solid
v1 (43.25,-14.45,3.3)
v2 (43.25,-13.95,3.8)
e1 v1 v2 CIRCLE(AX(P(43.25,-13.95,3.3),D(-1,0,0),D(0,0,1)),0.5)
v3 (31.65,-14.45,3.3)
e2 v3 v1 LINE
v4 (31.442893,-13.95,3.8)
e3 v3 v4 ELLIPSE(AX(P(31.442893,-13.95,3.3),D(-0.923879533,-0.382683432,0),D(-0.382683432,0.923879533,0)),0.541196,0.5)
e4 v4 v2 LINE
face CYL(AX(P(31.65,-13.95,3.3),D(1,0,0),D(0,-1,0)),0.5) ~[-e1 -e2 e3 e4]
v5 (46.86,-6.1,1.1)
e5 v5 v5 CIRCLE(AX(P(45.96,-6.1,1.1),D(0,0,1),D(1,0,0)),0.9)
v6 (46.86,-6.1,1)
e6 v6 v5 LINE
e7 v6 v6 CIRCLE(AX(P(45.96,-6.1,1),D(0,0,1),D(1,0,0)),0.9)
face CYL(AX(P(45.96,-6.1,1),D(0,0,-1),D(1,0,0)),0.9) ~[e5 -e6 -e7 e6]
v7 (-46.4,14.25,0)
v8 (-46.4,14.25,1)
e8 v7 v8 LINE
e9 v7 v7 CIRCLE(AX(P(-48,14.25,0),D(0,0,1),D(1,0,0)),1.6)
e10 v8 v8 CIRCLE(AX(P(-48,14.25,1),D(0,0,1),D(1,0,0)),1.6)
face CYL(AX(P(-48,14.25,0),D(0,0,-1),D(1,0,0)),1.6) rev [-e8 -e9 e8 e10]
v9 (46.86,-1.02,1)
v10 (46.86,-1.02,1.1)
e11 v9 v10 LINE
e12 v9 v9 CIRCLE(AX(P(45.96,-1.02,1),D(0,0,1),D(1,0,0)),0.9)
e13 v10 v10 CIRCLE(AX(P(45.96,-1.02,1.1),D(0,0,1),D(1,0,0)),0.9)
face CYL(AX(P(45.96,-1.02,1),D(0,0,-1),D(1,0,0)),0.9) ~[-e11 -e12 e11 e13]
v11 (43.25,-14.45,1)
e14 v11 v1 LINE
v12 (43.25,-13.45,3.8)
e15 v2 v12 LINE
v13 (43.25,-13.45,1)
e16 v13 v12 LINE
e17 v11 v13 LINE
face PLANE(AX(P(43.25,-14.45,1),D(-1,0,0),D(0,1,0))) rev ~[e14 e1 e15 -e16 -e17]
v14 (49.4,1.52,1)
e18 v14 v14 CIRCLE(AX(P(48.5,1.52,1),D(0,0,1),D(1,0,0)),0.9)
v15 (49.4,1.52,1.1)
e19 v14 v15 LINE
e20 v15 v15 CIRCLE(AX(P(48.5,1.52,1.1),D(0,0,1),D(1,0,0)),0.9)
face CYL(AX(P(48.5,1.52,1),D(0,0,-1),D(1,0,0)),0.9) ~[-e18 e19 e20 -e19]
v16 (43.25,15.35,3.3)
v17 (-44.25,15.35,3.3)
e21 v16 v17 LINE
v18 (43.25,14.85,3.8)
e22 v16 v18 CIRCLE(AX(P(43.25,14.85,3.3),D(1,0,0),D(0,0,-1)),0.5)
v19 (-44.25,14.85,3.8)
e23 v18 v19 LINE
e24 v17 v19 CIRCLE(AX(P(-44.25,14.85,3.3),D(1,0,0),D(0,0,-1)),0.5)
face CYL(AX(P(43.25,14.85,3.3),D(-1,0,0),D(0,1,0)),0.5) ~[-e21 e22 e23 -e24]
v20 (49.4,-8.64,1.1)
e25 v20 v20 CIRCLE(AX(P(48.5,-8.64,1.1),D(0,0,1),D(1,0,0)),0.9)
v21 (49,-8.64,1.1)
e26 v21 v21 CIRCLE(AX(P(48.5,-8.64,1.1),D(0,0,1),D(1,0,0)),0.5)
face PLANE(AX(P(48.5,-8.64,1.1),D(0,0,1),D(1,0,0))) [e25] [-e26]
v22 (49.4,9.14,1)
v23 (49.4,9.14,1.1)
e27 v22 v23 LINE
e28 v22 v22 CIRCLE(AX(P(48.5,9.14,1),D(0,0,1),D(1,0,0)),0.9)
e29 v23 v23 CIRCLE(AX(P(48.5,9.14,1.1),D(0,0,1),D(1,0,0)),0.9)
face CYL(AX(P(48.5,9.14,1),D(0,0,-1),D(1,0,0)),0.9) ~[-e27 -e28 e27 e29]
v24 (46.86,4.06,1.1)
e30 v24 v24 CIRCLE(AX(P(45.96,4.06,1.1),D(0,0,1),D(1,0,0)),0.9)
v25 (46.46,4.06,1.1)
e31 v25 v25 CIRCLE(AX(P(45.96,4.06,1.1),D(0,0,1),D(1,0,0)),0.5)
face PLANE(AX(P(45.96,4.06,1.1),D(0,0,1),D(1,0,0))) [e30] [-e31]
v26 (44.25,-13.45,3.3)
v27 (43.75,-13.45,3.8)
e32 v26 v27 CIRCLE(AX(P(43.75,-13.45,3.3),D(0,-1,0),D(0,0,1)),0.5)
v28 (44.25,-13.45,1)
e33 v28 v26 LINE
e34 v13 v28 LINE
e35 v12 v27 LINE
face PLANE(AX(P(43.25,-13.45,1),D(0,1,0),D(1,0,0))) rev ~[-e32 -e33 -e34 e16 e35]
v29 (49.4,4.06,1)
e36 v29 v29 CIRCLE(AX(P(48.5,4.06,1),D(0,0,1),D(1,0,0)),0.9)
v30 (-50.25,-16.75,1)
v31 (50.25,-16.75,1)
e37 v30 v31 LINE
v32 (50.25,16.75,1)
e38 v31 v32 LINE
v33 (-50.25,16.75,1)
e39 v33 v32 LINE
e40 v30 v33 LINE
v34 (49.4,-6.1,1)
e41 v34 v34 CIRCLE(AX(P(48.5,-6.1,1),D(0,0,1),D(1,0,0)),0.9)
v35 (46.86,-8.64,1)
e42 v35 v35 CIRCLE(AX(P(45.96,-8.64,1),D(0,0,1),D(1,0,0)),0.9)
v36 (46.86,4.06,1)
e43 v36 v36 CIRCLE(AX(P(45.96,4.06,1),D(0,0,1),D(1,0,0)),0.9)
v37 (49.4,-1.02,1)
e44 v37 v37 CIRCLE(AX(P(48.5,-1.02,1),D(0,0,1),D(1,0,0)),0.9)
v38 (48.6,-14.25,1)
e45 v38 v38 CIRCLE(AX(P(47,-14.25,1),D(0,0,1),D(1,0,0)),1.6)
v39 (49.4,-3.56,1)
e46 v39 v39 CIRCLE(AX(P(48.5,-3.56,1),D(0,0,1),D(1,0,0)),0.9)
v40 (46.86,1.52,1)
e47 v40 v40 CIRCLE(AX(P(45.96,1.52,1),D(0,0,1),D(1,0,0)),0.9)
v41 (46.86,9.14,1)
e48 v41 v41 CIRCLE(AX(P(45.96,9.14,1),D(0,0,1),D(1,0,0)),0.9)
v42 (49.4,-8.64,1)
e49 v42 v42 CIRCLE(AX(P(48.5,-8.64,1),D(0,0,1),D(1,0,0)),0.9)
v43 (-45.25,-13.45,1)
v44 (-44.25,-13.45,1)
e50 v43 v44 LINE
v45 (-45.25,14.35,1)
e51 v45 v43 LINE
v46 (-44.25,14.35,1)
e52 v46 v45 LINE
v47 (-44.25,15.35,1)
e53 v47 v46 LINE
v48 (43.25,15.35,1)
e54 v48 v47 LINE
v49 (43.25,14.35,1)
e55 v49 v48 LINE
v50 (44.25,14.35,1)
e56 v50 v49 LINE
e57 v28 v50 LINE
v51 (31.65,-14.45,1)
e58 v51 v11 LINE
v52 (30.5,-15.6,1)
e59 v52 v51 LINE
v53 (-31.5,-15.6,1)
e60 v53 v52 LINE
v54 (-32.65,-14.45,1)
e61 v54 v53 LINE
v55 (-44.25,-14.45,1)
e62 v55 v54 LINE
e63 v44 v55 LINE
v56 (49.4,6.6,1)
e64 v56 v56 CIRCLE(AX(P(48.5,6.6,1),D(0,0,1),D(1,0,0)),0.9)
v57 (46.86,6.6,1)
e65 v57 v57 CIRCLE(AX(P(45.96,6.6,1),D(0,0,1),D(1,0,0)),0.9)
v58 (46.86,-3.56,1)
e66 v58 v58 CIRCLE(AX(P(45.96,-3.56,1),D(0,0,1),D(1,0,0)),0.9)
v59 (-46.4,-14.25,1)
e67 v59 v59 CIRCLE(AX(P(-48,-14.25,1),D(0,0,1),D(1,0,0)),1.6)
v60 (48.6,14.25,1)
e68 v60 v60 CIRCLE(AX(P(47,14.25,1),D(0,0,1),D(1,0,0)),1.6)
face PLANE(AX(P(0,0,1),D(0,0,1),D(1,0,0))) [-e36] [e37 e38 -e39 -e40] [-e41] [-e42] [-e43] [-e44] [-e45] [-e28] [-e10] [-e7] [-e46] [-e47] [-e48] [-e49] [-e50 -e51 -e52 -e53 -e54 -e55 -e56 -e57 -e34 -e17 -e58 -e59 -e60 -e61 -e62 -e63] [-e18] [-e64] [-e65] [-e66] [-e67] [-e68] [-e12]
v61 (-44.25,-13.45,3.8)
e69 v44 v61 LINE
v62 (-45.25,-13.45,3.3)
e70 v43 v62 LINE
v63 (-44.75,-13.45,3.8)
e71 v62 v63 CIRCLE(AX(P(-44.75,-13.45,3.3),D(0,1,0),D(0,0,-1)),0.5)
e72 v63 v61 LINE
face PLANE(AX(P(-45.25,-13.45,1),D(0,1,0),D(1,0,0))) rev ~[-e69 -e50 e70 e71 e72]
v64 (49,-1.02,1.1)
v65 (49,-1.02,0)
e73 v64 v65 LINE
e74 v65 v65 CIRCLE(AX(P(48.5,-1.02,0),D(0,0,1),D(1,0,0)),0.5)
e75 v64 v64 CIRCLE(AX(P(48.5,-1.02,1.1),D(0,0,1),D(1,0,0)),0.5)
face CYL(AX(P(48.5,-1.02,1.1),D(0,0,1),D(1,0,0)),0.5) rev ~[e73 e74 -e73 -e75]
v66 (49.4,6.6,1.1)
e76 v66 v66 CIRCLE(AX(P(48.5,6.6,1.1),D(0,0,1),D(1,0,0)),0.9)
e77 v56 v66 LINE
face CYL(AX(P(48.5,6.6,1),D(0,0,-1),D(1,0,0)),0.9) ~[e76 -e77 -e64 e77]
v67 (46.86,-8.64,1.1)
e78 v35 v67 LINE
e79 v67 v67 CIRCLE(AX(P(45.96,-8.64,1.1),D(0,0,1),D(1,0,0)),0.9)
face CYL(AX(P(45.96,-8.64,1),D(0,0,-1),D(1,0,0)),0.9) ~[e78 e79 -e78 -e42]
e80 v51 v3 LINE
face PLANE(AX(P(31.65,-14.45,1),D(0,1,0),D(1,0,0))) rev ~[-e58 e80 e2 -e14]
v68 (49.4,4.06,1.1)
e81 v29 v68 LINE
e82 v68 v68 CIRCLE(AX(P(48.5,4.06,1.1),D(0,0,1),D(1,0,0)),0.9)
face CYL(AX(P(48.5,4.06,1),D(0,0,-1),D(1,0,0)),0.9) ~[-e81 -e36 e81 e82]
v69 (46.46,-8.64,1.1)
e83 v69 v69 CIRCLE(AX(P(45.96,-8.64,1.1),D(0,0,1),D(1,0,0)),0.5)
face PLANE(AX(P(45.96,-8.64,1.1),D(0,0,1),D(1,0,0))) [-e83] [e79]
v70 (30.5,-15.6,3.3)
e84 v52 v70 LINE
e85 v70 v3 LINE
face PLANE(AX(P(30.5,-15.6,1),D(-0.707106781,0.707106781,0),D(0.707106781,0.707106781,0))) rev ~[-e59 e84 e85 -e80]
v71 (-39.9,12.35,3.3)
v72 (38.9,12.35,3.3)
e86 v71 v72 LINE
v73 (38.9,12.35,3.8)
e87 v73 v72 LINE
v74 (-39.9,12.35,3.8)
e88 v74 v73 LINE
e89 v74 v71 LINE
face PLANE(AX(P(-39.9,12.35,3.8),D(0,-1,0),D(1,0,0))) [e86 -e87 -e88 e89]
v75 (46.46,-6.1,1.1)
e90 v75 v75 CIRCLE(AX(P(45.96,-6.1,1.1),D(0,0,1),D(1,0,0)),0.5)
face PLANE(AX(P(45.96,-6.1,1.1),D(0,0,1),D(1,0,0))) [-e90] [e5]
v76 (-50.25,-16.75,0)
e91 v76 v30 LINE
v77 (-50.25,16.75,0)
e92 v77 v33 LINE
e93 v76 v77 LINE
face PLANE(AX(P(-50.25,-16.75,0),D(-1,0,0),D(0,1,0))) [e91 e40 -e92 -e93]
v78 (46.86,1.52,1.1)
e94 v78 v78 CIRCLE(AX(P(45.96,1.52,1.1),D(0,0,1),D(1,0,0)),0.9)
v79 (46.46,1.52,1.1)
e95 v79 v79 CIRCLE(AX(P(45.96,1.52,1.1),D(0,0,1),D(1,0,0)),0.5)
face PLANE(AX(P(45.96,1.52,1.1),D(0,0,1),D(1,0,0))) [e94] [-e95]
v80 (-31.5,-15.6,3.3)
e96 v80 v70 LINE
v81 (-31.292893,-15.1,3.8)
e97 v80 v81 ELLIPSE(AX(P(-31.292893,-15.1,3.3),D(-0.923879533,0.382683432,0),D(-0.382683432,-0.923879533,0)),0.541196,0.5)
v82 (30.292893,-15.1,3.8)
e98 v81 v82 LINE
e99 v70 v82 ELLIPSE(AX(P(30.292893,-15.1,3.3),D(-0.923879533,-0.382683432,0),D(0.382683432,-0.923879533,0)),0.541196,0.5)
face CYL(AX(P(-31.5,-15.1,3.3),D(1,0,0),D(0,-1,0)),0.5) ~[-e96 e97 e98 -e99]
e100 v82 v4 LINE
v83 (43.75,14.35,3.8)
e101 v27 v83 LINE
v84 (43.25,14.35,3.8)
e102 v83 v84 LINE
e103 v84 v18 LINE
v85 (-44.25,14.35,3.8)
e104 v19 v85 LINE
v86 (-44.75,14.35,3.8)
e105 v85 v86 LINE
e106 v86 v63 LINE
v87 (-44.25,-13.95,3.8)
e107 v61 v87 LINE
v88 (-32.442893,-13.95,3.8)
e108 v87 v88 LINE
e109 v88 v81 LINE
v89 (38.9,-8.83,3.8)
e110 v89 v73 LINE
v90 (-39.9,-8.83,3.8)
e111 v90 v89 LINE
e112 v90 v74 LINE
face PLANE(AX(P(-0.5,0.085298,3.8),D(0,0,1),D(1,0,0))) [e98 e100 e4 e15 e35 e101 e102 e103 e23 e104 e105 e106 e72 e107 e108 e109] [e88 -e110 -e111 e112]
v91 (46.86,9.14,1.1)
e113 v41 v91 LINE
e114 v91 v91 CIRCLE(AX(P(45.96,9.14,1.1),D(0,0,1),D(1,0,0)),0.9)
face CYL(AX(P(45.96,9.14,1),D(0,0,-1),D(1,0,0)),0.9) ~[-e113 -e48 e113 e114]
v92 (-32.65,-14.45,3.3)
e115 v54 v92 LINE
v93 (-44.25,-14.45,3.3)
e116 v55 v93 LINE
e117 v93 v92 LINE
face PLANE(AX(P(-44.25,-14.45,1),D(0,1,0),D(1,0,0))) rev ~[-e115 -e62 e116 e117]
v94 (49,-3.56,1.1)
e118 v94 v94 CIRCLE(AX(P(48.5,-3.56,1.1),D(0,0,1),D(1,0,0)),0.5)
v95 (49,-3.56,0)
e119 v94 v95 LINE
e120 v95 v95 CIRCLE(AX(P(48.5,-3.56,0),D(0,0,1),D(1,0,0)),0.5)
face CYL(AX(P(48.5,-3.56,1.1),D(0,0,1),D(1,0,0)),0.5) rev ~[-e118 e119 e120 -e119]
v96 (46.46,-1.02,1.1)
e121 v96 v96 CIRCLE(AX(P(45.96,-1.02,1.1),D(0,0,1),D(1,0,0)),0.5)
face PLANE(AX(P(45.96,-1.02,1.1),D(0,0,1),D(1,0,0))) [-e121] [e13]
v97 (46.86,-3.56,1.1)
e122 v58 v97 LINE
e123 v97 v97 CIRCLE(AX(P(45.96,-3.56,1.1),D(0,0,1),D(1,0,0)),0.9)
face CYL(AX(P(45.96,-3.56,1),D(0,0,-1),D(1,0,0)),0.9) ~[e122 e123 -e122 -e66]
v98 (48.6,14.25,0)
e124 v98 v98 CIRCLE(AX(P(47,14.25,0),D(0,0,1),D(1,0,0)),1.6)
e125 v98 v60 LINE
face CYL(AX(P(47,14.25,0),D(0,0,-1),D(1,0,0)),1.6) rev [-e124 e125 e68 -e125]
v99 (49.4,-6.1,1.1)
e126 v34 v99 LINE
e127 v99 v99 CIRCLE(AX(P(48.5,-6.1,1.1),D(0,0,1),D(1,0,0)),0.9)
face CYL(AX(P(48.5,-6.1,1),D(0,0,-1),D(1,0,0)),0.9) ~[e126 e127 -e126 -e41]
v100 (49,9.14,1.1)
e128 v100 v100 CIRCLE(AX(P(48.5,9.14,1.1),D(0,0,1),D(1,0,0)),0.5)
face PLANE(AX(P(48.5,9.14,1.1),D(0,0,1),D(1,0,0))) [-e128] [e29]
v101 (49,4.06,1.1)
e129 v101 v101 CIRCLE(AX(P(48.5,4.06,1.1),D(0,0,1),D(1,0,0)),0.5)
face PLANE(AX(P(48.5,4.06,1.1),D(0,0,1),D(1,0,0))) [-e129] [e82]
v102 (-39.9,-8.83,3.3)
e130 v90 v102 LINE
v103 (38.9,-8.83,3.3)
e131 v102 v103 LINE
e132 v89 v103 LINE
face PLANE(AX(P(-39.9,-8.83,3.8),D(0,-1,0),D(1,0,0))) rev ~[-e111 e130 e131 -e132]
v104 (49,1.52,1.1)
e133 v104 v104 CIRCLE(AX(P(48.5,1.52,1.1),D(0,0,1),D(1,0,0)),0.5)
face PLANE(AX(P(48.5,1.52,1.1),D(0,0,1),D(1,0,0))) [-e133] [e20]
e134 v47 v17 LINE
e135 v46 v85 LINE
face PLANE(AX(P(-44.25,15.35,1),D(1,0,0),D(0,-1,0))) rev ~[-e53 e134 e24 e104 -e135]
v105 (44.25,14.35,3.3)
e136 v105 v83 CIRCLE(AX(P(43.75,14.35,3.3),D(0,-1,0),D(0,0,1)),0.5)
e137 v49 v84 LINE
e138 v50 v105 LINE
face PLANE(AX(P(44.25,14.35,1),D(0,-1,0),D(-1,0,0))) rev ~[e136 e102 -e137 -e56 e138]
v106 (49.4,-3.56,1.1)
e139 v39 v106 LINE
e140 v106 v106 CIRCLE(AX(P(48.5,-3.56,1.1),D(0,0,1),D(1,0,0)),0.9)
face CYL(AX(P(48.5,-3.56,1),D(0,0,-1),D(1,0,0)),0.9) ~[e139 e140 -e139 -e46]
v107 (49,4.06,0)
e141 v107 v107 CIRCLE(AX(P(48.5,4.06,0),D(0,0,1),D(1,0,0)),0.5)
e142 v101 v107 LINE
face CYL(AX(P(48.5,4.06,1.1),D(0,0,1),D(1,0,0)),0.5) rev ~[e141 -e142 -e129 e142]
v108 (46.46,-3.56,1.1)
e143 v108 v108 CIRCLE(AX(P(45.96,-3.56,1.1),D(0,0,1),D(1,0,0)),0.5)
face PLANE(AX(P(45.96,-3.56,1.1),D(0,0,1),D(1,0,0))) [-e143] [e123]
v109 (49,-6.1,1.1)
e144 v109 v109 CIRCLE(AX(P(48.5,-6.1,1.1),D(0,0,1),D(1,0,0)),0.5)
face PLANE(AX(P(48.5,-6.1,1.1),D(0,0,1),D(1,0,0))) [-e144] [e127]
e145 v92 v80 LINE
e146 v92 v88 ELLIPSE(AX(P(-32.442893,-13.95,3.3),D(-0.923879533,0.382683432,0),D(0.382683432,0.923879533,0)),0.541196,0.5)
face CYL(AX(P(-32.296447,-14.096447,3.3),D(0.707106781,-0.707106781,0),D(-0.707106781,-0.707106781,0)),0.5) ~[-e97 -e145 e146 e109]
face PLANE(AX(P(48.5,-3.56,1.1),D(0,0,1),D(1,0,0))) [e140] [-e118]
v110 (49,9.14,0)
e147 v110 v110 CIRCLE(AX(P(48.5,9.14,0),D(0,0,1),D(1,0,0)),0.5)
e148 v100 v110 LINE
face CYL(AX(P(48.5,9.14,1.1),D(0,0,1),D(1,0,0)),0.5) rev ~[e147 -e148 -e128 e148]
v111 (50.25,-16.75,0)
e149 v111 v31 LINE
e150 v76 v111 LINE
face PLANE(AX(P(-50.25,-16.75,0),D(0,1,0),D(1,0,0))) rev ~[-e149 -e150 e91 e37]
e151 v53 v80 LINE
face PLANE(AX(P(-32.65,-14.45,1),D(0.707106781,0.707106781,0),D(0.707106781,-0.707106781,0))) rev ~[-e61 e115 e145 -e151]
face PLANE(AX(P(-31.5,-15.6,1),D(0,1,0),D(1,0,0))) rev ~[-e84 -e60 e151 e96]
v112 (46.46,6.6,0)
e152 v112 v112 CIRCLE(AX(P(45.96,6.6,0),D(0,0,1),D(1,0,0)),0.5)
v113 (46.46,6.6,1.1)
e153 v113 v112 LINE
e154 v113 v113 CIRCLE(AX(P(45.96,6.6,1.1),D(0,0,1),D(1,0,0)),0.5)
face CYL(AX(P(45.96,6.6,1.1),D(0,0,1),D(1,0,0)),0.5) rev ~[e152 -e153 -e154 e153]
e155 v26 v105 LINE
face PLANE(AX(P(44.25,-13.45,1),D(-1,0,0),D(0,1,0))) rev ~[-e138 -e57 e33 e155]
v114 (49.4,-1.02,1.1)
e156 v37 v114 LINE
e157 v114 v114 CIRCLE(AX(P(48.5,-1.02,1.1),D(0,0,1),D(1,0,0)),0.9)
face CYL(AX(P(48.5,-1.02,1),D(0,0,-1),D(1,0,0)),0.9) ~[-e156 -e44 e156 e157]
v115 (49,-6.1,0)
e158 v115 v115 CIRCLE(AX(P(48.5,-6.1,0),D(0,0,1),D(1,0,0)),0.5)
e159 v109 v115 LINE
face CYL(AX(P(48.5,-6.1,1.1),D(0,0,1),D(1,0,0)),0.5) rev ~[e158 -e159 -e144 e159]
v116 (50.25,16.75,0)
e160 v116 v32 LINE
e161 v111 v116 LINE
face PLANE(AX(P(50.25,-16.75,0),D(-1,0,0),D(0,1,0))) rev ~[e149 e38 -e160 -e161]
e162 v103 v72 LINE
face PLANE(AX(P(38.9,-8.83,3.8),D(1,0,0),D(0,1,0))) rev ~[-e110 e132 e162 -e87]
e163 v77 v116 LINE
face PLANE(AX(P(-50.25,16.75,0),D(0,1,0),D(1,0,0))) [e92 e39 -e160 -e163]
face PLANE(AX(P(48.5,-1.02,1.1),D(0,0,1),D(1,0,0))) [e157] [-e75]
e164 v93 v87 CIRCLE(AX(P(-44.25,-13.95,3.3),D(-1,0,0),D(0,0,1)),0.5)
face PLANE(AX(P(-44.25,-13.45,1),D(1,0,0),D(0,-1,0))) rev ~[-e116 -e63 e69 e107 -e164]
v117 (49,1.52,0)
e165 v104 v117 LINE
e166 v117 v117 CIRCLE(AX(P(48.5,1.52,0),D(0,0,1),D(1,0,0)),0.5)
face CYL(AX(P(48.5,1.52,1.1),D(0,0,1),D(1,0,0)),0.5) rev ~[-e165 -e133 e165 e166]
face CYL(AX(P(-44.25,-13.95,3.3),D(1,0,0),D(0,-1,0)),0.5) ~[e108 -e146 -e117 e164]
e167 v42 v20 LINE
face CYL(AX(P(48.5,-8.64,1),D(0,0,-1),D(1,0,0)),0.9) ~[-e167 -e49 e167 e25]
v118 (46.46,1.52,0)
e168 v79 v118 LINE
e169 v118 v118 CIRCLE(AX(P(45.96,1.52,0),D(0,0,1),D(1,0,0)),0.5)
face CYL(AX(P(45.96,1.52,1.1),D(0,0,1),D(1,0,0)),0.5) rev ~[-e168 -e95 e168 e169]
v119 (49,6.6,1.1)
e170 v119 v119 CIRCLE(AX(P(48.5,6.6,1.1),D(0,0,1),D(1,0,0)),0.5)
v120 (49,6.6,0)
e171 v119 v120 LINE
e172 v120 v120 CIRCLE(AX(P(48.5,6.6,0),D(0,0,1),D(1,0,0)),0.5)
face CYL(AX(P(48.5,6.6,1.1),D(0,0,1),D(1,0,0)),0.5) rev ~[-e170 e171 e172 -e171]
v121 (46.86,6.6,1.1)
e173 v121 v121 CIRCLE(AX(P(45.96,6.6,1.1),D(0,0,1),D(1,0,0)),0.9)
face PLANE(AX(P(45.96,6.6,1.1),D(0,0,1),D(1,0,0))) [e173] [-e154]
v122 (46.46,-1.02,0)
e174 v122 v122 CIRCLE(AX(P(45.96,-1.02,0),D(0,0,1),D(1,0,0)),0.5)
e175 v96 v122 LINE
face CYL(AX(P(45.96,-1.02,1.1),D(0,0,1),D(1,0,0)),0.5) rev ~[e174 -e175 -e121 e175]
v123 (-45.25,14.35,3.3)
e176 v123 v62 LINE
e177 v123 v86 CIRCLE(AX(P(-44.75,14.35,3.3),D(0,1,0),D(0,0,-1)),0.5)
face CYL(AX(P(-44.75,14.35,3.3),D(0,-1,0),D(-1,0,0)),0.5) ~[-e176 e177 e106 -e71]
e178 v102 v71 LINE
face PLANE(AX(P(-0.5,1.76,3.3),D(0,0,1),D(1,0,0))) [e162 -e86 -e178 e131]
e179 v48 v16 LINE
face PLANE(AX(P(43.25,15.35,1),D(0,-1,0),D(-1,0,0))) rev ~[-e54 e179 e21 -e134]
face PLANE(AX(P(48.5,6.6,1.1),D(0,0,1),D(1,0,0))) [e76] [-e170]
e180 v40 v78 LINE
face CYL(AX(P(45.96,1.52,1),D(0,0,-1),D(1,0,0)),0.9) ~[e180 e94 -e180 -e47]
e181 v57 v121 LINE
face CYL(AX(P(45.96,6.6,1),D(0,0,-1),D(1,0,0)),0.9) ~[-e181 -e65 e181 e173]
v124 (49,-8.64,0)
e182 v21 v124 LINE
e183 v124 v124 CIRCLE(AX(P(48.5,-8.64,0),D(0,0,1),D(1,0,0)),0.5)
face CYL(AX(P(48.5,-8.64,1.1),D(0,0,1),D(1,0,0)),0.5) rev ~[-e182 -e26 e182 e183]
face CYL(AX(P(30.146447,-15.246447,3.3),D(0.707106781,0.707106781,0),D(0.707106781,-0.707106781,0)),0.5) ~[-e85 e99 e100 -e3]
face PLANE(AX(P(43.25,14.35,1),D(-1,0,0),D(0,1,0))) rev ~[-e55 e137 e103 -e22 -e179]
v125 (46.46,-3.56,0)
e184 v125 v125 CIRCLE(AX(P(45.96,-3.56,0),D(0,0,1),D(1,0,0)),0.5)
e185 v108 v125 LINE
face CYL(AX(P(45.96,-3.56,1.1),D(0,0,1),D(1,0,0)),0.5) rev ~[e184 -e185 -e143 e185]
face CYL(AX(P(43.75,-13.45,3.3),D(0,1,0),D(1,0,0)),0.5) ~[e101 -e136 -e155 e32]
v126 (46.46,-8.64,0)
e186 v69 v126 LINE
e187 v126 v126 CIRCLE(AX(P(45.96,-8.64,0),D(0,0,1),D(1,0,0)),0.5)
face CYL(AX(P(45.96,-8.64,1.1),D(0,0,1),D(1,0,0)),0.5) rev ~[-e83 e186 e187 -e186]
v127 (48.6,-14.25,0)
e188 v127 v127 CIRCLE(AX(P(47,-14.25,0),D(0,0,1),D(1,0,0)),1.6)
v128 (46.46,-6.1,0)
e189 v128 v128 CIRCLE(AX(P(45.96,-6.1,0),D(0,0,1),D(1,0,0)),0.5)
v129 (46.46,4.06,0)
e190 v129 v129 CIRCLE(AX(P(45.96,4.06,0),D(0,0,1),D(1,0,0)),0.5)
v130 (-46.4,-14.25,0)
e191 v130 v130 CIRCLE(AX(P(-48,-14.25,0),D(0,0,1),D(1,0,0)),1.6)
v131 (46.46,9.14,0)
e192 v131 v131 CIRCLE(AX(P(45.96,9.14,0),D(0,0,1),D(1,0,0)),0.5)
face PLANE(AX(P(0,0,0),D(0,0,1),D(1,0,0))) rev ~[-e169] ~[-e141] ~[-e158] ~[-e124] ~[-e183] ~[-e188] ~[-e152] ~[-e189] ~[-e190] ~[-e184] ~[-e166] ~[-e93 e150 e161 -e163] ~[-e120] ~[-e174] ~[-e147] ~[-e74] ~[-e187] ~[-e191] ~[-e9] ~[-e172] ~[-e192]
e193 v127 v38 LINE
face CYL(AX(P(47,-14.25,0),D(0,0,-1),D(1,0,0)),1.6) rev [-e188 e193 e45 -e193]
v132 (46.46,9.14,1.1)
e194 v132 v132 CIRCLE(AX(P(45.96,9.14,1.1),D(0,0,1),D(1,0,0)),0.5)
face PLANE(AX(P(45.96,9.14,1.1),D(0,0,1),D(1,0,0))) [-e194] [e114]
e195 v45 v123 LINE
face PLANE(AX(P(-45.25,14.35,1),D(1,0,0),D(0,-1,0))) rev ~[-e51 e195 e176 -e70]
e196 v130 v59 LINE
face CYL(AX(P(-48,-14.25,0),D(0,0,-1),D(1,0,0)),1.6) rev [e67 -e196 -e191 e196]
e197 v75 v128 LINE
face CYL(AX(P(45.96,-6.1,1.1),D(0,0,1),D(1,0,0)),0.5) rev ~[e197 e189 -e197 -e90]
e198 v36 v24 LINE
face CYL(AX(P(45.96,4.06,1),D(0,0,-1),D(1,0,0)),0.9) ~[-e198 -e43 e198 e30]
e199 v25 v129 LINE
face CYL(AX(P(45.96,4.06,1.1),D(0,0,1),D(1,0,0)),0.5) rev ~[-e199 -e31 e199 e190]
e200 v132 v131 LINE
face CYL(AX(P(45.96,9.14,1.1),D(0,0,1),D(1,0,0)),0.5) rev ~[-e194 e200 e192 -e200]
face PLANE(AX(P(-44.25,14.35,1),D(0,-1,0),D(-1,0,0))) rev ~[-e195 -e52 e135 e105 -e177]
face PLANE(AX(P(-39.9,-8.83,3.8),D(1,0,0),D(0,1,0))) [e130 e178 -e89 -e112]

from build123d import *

# Parameters (mm, degrees)
SKETCH_1_W          = 100.5
SKETCH_1_H          = 33.5
SKETCH_1_R          = 1.6
EXTRUDE_1_DEPTH     = 1
EXTRUDE_2_DEPTH     = 2.8
FILLET_1_R          = 0.5
SKETCH_3_W          = 78.8
SKETCH_3_H          = 21.18
CUT_EXTRUDE_1_DEPTH = 0.5
SKETCH_4_R          = 0.9
EXTRUDE_3_DEPTH     = 0.1
SKETCH_5_R          = 0.5
CUT_EXTRUDE_2_DEPTH = 2.1


with BuildPart() as part:
    # Эскиз1 → Бобышка-Вытянуть1 (new body)
    with BuildSketch(Plane.XY):
        Rectangle(SKETCH_1_W, SKETCH_1_H)
        with Locations((-48, 14.25)):
            Circle(SKETCH_1_R, mode=Mode.SUBTRACT)
        with Locations((47, 14.25)):
            Circle(SKETCH_1_R, mode=Mode.SUBTRACT)
        with Locations((47, -14.25)):
            Circle(SKETCH_1_R, mode=Mode.SUBTRACT)
        with Locations((-48, -14.25)):
            Circle(SKETCH_1_R, mode=Mode.SUBTRACT)
    extrude(amount=EXTRUDE_1_DEPTH)

    # Эскиз2 → Бобышка-Вытянуть2 (add)
    with BuildSketch(Plane.XY.offset(1)):
        Polygon((43.25, 15.35), (-44.25, 15.35), (-44.25, 14.35), (-45.25, 14.35), (-45.25, -13.45), (-44.25, -13.45), (-44.25, -14.45), (-32.65, -14.45), (-31.5, -15.6), (30.5, -15.6), (31.65, -14.45), (43.25, -14.45), (43.25, -13.45), (44.25, -13.45), (44.25, 14.35), (43.25, 14.35), align=None)
    extrude(amount=EXTRUDE_2_DEPTH)

    # Скругление1
    fillet_1_edges = [part.edges().sort_by_distance(p)[0] for p in [
        (-45.25, 0.45, 3.8),
        (-38.45, -14.45, 3.8),
        (-32.075, -15.025, 3.8),
        (-0.5, -15.6, 3.8),
        (31.075, -15.025, 3.8),
        (37.45, -14.45, 3.8),
        (44.25, 0.45, 3.8),
        (-0.5, 15.35, 3.8),
    ]]
    fillet(fillet_1_edges, radius=FILLET_1_R)

    # Эскиз3 → Вырез-Вытянуть1 (cut)
    with BuildSketch(Plane.XY.offset(3.8)):
        with Locations((-0.5, 1.76)):
            Rectangle(SKETCH_3_W, SKETCH_3_H)
    extrude(amount=-CUT_EXTRUDE_1_DEPTH, mode=Mode.SUBTRACT)

    # Эскиз4 → Бобышка-Вытянуть3 (add)
    with BuildSketch(Plane.XY.offset(1)):
        with Locations((48.5, -8.64)):
            Circle(SKETCH_4_R)
        with Locations((45.96, -8.64)):
            Circle(SKETCH_4_R)
        with Locations((45.96, -6.1)):
            Circle(SKETCH_4_R)
        with Locations((45.96, -3.56)):
            Circle(SKETCH_4_R)
        with Locations((45.96, -1.02)):
            Circle(SKETCH_4_R)
        with Locations((45.96, 1.52)):
            Circle(SKETCH_4_R)
        with Locations((45.96, 4.06)):
            Circle(SKETCH_4_R)
        with Locations((45.96, 6.6)):
            Circle(SKETCH_4_R)
        with Locations((45.96, 9.14)):
            Circle(SKETCH_4_R)
        with Locations((48.5, -6.1)):
            Circle(SKETCH_4_R)
        with Locations((48.5, -3.56)):
            Circle(SKETCH_4_R)
        with Locations((48.5, -1.02)):
            Circle(SKETCH_4_R)
        with Locations((48.5, 1.52)):
            Circle(SKETCH_4_R)
        with Locations((48.5, 4.06)):
            Circle(SKETCH_4_R)
        with Locations((48.5, 6.6)):
            Circle(SKETCH_4_R)
        with Locations((48.5, 9.14)):
            Circle(SKETCH_4_R)
    extrude(amount=EXTRUDE_3_DEPTH)

    # Эскиз5 → Вырез-Вытянуть2 (cut, through all)
    with BuildSketch(Plane.XY.offset(1.1)):
        with Locations((48.5, -8.64)):
            Circle(SKETCH_5_R)
        with Locations((45.96, -8.64)):
            Circle(SKETCH_5_R)
        with Locations((45.96, -6.1)):
            Circle(SKETCH_5_R)
        with Locations((45.96, -3.56)):
            Circle(SKETCH_5_R)
        with Locations((45.96, -1.02)):
            Circle(SKETCH_5_R)
        with Locations((45.96, 1.52)):
            Circle(SKETCH_5_R)
        with Locations((45.96, 4.06)):
            Circle(SKETCH_5_R)
        with Locations((45.96, 6.6)):
            Circle(SKETCH_5_R)
        with Locations((45.96, 9.14)):
            Circle(SKETCH_5_R)
        with Locations((48.5, -6.1)):
            Circle(SKETCH_5_R)
        with Locations((48.5, -3.56)):
            Circle(SKETCH_5_R)
        with Locations((48.5, -1.02)):
            Circle(SKETCH_5_R)
        with Locations((48.5, 1.52)):
            Circle(SKETCH_5_R)
        with Locations((48.5, 4.06)):
            Circle(SKETCH_5_R)
        with Locations((48.5, 6.6)):
            Circle(SKETCH_5_R)
        with Locations((48.5, 9.14)):
            Circle(SKETCH_5_R)
    extrude(amount=-CUT_EXTRUDE_2_DEPTH, mode=Mode.SUBTRACT)


solid = part.part
